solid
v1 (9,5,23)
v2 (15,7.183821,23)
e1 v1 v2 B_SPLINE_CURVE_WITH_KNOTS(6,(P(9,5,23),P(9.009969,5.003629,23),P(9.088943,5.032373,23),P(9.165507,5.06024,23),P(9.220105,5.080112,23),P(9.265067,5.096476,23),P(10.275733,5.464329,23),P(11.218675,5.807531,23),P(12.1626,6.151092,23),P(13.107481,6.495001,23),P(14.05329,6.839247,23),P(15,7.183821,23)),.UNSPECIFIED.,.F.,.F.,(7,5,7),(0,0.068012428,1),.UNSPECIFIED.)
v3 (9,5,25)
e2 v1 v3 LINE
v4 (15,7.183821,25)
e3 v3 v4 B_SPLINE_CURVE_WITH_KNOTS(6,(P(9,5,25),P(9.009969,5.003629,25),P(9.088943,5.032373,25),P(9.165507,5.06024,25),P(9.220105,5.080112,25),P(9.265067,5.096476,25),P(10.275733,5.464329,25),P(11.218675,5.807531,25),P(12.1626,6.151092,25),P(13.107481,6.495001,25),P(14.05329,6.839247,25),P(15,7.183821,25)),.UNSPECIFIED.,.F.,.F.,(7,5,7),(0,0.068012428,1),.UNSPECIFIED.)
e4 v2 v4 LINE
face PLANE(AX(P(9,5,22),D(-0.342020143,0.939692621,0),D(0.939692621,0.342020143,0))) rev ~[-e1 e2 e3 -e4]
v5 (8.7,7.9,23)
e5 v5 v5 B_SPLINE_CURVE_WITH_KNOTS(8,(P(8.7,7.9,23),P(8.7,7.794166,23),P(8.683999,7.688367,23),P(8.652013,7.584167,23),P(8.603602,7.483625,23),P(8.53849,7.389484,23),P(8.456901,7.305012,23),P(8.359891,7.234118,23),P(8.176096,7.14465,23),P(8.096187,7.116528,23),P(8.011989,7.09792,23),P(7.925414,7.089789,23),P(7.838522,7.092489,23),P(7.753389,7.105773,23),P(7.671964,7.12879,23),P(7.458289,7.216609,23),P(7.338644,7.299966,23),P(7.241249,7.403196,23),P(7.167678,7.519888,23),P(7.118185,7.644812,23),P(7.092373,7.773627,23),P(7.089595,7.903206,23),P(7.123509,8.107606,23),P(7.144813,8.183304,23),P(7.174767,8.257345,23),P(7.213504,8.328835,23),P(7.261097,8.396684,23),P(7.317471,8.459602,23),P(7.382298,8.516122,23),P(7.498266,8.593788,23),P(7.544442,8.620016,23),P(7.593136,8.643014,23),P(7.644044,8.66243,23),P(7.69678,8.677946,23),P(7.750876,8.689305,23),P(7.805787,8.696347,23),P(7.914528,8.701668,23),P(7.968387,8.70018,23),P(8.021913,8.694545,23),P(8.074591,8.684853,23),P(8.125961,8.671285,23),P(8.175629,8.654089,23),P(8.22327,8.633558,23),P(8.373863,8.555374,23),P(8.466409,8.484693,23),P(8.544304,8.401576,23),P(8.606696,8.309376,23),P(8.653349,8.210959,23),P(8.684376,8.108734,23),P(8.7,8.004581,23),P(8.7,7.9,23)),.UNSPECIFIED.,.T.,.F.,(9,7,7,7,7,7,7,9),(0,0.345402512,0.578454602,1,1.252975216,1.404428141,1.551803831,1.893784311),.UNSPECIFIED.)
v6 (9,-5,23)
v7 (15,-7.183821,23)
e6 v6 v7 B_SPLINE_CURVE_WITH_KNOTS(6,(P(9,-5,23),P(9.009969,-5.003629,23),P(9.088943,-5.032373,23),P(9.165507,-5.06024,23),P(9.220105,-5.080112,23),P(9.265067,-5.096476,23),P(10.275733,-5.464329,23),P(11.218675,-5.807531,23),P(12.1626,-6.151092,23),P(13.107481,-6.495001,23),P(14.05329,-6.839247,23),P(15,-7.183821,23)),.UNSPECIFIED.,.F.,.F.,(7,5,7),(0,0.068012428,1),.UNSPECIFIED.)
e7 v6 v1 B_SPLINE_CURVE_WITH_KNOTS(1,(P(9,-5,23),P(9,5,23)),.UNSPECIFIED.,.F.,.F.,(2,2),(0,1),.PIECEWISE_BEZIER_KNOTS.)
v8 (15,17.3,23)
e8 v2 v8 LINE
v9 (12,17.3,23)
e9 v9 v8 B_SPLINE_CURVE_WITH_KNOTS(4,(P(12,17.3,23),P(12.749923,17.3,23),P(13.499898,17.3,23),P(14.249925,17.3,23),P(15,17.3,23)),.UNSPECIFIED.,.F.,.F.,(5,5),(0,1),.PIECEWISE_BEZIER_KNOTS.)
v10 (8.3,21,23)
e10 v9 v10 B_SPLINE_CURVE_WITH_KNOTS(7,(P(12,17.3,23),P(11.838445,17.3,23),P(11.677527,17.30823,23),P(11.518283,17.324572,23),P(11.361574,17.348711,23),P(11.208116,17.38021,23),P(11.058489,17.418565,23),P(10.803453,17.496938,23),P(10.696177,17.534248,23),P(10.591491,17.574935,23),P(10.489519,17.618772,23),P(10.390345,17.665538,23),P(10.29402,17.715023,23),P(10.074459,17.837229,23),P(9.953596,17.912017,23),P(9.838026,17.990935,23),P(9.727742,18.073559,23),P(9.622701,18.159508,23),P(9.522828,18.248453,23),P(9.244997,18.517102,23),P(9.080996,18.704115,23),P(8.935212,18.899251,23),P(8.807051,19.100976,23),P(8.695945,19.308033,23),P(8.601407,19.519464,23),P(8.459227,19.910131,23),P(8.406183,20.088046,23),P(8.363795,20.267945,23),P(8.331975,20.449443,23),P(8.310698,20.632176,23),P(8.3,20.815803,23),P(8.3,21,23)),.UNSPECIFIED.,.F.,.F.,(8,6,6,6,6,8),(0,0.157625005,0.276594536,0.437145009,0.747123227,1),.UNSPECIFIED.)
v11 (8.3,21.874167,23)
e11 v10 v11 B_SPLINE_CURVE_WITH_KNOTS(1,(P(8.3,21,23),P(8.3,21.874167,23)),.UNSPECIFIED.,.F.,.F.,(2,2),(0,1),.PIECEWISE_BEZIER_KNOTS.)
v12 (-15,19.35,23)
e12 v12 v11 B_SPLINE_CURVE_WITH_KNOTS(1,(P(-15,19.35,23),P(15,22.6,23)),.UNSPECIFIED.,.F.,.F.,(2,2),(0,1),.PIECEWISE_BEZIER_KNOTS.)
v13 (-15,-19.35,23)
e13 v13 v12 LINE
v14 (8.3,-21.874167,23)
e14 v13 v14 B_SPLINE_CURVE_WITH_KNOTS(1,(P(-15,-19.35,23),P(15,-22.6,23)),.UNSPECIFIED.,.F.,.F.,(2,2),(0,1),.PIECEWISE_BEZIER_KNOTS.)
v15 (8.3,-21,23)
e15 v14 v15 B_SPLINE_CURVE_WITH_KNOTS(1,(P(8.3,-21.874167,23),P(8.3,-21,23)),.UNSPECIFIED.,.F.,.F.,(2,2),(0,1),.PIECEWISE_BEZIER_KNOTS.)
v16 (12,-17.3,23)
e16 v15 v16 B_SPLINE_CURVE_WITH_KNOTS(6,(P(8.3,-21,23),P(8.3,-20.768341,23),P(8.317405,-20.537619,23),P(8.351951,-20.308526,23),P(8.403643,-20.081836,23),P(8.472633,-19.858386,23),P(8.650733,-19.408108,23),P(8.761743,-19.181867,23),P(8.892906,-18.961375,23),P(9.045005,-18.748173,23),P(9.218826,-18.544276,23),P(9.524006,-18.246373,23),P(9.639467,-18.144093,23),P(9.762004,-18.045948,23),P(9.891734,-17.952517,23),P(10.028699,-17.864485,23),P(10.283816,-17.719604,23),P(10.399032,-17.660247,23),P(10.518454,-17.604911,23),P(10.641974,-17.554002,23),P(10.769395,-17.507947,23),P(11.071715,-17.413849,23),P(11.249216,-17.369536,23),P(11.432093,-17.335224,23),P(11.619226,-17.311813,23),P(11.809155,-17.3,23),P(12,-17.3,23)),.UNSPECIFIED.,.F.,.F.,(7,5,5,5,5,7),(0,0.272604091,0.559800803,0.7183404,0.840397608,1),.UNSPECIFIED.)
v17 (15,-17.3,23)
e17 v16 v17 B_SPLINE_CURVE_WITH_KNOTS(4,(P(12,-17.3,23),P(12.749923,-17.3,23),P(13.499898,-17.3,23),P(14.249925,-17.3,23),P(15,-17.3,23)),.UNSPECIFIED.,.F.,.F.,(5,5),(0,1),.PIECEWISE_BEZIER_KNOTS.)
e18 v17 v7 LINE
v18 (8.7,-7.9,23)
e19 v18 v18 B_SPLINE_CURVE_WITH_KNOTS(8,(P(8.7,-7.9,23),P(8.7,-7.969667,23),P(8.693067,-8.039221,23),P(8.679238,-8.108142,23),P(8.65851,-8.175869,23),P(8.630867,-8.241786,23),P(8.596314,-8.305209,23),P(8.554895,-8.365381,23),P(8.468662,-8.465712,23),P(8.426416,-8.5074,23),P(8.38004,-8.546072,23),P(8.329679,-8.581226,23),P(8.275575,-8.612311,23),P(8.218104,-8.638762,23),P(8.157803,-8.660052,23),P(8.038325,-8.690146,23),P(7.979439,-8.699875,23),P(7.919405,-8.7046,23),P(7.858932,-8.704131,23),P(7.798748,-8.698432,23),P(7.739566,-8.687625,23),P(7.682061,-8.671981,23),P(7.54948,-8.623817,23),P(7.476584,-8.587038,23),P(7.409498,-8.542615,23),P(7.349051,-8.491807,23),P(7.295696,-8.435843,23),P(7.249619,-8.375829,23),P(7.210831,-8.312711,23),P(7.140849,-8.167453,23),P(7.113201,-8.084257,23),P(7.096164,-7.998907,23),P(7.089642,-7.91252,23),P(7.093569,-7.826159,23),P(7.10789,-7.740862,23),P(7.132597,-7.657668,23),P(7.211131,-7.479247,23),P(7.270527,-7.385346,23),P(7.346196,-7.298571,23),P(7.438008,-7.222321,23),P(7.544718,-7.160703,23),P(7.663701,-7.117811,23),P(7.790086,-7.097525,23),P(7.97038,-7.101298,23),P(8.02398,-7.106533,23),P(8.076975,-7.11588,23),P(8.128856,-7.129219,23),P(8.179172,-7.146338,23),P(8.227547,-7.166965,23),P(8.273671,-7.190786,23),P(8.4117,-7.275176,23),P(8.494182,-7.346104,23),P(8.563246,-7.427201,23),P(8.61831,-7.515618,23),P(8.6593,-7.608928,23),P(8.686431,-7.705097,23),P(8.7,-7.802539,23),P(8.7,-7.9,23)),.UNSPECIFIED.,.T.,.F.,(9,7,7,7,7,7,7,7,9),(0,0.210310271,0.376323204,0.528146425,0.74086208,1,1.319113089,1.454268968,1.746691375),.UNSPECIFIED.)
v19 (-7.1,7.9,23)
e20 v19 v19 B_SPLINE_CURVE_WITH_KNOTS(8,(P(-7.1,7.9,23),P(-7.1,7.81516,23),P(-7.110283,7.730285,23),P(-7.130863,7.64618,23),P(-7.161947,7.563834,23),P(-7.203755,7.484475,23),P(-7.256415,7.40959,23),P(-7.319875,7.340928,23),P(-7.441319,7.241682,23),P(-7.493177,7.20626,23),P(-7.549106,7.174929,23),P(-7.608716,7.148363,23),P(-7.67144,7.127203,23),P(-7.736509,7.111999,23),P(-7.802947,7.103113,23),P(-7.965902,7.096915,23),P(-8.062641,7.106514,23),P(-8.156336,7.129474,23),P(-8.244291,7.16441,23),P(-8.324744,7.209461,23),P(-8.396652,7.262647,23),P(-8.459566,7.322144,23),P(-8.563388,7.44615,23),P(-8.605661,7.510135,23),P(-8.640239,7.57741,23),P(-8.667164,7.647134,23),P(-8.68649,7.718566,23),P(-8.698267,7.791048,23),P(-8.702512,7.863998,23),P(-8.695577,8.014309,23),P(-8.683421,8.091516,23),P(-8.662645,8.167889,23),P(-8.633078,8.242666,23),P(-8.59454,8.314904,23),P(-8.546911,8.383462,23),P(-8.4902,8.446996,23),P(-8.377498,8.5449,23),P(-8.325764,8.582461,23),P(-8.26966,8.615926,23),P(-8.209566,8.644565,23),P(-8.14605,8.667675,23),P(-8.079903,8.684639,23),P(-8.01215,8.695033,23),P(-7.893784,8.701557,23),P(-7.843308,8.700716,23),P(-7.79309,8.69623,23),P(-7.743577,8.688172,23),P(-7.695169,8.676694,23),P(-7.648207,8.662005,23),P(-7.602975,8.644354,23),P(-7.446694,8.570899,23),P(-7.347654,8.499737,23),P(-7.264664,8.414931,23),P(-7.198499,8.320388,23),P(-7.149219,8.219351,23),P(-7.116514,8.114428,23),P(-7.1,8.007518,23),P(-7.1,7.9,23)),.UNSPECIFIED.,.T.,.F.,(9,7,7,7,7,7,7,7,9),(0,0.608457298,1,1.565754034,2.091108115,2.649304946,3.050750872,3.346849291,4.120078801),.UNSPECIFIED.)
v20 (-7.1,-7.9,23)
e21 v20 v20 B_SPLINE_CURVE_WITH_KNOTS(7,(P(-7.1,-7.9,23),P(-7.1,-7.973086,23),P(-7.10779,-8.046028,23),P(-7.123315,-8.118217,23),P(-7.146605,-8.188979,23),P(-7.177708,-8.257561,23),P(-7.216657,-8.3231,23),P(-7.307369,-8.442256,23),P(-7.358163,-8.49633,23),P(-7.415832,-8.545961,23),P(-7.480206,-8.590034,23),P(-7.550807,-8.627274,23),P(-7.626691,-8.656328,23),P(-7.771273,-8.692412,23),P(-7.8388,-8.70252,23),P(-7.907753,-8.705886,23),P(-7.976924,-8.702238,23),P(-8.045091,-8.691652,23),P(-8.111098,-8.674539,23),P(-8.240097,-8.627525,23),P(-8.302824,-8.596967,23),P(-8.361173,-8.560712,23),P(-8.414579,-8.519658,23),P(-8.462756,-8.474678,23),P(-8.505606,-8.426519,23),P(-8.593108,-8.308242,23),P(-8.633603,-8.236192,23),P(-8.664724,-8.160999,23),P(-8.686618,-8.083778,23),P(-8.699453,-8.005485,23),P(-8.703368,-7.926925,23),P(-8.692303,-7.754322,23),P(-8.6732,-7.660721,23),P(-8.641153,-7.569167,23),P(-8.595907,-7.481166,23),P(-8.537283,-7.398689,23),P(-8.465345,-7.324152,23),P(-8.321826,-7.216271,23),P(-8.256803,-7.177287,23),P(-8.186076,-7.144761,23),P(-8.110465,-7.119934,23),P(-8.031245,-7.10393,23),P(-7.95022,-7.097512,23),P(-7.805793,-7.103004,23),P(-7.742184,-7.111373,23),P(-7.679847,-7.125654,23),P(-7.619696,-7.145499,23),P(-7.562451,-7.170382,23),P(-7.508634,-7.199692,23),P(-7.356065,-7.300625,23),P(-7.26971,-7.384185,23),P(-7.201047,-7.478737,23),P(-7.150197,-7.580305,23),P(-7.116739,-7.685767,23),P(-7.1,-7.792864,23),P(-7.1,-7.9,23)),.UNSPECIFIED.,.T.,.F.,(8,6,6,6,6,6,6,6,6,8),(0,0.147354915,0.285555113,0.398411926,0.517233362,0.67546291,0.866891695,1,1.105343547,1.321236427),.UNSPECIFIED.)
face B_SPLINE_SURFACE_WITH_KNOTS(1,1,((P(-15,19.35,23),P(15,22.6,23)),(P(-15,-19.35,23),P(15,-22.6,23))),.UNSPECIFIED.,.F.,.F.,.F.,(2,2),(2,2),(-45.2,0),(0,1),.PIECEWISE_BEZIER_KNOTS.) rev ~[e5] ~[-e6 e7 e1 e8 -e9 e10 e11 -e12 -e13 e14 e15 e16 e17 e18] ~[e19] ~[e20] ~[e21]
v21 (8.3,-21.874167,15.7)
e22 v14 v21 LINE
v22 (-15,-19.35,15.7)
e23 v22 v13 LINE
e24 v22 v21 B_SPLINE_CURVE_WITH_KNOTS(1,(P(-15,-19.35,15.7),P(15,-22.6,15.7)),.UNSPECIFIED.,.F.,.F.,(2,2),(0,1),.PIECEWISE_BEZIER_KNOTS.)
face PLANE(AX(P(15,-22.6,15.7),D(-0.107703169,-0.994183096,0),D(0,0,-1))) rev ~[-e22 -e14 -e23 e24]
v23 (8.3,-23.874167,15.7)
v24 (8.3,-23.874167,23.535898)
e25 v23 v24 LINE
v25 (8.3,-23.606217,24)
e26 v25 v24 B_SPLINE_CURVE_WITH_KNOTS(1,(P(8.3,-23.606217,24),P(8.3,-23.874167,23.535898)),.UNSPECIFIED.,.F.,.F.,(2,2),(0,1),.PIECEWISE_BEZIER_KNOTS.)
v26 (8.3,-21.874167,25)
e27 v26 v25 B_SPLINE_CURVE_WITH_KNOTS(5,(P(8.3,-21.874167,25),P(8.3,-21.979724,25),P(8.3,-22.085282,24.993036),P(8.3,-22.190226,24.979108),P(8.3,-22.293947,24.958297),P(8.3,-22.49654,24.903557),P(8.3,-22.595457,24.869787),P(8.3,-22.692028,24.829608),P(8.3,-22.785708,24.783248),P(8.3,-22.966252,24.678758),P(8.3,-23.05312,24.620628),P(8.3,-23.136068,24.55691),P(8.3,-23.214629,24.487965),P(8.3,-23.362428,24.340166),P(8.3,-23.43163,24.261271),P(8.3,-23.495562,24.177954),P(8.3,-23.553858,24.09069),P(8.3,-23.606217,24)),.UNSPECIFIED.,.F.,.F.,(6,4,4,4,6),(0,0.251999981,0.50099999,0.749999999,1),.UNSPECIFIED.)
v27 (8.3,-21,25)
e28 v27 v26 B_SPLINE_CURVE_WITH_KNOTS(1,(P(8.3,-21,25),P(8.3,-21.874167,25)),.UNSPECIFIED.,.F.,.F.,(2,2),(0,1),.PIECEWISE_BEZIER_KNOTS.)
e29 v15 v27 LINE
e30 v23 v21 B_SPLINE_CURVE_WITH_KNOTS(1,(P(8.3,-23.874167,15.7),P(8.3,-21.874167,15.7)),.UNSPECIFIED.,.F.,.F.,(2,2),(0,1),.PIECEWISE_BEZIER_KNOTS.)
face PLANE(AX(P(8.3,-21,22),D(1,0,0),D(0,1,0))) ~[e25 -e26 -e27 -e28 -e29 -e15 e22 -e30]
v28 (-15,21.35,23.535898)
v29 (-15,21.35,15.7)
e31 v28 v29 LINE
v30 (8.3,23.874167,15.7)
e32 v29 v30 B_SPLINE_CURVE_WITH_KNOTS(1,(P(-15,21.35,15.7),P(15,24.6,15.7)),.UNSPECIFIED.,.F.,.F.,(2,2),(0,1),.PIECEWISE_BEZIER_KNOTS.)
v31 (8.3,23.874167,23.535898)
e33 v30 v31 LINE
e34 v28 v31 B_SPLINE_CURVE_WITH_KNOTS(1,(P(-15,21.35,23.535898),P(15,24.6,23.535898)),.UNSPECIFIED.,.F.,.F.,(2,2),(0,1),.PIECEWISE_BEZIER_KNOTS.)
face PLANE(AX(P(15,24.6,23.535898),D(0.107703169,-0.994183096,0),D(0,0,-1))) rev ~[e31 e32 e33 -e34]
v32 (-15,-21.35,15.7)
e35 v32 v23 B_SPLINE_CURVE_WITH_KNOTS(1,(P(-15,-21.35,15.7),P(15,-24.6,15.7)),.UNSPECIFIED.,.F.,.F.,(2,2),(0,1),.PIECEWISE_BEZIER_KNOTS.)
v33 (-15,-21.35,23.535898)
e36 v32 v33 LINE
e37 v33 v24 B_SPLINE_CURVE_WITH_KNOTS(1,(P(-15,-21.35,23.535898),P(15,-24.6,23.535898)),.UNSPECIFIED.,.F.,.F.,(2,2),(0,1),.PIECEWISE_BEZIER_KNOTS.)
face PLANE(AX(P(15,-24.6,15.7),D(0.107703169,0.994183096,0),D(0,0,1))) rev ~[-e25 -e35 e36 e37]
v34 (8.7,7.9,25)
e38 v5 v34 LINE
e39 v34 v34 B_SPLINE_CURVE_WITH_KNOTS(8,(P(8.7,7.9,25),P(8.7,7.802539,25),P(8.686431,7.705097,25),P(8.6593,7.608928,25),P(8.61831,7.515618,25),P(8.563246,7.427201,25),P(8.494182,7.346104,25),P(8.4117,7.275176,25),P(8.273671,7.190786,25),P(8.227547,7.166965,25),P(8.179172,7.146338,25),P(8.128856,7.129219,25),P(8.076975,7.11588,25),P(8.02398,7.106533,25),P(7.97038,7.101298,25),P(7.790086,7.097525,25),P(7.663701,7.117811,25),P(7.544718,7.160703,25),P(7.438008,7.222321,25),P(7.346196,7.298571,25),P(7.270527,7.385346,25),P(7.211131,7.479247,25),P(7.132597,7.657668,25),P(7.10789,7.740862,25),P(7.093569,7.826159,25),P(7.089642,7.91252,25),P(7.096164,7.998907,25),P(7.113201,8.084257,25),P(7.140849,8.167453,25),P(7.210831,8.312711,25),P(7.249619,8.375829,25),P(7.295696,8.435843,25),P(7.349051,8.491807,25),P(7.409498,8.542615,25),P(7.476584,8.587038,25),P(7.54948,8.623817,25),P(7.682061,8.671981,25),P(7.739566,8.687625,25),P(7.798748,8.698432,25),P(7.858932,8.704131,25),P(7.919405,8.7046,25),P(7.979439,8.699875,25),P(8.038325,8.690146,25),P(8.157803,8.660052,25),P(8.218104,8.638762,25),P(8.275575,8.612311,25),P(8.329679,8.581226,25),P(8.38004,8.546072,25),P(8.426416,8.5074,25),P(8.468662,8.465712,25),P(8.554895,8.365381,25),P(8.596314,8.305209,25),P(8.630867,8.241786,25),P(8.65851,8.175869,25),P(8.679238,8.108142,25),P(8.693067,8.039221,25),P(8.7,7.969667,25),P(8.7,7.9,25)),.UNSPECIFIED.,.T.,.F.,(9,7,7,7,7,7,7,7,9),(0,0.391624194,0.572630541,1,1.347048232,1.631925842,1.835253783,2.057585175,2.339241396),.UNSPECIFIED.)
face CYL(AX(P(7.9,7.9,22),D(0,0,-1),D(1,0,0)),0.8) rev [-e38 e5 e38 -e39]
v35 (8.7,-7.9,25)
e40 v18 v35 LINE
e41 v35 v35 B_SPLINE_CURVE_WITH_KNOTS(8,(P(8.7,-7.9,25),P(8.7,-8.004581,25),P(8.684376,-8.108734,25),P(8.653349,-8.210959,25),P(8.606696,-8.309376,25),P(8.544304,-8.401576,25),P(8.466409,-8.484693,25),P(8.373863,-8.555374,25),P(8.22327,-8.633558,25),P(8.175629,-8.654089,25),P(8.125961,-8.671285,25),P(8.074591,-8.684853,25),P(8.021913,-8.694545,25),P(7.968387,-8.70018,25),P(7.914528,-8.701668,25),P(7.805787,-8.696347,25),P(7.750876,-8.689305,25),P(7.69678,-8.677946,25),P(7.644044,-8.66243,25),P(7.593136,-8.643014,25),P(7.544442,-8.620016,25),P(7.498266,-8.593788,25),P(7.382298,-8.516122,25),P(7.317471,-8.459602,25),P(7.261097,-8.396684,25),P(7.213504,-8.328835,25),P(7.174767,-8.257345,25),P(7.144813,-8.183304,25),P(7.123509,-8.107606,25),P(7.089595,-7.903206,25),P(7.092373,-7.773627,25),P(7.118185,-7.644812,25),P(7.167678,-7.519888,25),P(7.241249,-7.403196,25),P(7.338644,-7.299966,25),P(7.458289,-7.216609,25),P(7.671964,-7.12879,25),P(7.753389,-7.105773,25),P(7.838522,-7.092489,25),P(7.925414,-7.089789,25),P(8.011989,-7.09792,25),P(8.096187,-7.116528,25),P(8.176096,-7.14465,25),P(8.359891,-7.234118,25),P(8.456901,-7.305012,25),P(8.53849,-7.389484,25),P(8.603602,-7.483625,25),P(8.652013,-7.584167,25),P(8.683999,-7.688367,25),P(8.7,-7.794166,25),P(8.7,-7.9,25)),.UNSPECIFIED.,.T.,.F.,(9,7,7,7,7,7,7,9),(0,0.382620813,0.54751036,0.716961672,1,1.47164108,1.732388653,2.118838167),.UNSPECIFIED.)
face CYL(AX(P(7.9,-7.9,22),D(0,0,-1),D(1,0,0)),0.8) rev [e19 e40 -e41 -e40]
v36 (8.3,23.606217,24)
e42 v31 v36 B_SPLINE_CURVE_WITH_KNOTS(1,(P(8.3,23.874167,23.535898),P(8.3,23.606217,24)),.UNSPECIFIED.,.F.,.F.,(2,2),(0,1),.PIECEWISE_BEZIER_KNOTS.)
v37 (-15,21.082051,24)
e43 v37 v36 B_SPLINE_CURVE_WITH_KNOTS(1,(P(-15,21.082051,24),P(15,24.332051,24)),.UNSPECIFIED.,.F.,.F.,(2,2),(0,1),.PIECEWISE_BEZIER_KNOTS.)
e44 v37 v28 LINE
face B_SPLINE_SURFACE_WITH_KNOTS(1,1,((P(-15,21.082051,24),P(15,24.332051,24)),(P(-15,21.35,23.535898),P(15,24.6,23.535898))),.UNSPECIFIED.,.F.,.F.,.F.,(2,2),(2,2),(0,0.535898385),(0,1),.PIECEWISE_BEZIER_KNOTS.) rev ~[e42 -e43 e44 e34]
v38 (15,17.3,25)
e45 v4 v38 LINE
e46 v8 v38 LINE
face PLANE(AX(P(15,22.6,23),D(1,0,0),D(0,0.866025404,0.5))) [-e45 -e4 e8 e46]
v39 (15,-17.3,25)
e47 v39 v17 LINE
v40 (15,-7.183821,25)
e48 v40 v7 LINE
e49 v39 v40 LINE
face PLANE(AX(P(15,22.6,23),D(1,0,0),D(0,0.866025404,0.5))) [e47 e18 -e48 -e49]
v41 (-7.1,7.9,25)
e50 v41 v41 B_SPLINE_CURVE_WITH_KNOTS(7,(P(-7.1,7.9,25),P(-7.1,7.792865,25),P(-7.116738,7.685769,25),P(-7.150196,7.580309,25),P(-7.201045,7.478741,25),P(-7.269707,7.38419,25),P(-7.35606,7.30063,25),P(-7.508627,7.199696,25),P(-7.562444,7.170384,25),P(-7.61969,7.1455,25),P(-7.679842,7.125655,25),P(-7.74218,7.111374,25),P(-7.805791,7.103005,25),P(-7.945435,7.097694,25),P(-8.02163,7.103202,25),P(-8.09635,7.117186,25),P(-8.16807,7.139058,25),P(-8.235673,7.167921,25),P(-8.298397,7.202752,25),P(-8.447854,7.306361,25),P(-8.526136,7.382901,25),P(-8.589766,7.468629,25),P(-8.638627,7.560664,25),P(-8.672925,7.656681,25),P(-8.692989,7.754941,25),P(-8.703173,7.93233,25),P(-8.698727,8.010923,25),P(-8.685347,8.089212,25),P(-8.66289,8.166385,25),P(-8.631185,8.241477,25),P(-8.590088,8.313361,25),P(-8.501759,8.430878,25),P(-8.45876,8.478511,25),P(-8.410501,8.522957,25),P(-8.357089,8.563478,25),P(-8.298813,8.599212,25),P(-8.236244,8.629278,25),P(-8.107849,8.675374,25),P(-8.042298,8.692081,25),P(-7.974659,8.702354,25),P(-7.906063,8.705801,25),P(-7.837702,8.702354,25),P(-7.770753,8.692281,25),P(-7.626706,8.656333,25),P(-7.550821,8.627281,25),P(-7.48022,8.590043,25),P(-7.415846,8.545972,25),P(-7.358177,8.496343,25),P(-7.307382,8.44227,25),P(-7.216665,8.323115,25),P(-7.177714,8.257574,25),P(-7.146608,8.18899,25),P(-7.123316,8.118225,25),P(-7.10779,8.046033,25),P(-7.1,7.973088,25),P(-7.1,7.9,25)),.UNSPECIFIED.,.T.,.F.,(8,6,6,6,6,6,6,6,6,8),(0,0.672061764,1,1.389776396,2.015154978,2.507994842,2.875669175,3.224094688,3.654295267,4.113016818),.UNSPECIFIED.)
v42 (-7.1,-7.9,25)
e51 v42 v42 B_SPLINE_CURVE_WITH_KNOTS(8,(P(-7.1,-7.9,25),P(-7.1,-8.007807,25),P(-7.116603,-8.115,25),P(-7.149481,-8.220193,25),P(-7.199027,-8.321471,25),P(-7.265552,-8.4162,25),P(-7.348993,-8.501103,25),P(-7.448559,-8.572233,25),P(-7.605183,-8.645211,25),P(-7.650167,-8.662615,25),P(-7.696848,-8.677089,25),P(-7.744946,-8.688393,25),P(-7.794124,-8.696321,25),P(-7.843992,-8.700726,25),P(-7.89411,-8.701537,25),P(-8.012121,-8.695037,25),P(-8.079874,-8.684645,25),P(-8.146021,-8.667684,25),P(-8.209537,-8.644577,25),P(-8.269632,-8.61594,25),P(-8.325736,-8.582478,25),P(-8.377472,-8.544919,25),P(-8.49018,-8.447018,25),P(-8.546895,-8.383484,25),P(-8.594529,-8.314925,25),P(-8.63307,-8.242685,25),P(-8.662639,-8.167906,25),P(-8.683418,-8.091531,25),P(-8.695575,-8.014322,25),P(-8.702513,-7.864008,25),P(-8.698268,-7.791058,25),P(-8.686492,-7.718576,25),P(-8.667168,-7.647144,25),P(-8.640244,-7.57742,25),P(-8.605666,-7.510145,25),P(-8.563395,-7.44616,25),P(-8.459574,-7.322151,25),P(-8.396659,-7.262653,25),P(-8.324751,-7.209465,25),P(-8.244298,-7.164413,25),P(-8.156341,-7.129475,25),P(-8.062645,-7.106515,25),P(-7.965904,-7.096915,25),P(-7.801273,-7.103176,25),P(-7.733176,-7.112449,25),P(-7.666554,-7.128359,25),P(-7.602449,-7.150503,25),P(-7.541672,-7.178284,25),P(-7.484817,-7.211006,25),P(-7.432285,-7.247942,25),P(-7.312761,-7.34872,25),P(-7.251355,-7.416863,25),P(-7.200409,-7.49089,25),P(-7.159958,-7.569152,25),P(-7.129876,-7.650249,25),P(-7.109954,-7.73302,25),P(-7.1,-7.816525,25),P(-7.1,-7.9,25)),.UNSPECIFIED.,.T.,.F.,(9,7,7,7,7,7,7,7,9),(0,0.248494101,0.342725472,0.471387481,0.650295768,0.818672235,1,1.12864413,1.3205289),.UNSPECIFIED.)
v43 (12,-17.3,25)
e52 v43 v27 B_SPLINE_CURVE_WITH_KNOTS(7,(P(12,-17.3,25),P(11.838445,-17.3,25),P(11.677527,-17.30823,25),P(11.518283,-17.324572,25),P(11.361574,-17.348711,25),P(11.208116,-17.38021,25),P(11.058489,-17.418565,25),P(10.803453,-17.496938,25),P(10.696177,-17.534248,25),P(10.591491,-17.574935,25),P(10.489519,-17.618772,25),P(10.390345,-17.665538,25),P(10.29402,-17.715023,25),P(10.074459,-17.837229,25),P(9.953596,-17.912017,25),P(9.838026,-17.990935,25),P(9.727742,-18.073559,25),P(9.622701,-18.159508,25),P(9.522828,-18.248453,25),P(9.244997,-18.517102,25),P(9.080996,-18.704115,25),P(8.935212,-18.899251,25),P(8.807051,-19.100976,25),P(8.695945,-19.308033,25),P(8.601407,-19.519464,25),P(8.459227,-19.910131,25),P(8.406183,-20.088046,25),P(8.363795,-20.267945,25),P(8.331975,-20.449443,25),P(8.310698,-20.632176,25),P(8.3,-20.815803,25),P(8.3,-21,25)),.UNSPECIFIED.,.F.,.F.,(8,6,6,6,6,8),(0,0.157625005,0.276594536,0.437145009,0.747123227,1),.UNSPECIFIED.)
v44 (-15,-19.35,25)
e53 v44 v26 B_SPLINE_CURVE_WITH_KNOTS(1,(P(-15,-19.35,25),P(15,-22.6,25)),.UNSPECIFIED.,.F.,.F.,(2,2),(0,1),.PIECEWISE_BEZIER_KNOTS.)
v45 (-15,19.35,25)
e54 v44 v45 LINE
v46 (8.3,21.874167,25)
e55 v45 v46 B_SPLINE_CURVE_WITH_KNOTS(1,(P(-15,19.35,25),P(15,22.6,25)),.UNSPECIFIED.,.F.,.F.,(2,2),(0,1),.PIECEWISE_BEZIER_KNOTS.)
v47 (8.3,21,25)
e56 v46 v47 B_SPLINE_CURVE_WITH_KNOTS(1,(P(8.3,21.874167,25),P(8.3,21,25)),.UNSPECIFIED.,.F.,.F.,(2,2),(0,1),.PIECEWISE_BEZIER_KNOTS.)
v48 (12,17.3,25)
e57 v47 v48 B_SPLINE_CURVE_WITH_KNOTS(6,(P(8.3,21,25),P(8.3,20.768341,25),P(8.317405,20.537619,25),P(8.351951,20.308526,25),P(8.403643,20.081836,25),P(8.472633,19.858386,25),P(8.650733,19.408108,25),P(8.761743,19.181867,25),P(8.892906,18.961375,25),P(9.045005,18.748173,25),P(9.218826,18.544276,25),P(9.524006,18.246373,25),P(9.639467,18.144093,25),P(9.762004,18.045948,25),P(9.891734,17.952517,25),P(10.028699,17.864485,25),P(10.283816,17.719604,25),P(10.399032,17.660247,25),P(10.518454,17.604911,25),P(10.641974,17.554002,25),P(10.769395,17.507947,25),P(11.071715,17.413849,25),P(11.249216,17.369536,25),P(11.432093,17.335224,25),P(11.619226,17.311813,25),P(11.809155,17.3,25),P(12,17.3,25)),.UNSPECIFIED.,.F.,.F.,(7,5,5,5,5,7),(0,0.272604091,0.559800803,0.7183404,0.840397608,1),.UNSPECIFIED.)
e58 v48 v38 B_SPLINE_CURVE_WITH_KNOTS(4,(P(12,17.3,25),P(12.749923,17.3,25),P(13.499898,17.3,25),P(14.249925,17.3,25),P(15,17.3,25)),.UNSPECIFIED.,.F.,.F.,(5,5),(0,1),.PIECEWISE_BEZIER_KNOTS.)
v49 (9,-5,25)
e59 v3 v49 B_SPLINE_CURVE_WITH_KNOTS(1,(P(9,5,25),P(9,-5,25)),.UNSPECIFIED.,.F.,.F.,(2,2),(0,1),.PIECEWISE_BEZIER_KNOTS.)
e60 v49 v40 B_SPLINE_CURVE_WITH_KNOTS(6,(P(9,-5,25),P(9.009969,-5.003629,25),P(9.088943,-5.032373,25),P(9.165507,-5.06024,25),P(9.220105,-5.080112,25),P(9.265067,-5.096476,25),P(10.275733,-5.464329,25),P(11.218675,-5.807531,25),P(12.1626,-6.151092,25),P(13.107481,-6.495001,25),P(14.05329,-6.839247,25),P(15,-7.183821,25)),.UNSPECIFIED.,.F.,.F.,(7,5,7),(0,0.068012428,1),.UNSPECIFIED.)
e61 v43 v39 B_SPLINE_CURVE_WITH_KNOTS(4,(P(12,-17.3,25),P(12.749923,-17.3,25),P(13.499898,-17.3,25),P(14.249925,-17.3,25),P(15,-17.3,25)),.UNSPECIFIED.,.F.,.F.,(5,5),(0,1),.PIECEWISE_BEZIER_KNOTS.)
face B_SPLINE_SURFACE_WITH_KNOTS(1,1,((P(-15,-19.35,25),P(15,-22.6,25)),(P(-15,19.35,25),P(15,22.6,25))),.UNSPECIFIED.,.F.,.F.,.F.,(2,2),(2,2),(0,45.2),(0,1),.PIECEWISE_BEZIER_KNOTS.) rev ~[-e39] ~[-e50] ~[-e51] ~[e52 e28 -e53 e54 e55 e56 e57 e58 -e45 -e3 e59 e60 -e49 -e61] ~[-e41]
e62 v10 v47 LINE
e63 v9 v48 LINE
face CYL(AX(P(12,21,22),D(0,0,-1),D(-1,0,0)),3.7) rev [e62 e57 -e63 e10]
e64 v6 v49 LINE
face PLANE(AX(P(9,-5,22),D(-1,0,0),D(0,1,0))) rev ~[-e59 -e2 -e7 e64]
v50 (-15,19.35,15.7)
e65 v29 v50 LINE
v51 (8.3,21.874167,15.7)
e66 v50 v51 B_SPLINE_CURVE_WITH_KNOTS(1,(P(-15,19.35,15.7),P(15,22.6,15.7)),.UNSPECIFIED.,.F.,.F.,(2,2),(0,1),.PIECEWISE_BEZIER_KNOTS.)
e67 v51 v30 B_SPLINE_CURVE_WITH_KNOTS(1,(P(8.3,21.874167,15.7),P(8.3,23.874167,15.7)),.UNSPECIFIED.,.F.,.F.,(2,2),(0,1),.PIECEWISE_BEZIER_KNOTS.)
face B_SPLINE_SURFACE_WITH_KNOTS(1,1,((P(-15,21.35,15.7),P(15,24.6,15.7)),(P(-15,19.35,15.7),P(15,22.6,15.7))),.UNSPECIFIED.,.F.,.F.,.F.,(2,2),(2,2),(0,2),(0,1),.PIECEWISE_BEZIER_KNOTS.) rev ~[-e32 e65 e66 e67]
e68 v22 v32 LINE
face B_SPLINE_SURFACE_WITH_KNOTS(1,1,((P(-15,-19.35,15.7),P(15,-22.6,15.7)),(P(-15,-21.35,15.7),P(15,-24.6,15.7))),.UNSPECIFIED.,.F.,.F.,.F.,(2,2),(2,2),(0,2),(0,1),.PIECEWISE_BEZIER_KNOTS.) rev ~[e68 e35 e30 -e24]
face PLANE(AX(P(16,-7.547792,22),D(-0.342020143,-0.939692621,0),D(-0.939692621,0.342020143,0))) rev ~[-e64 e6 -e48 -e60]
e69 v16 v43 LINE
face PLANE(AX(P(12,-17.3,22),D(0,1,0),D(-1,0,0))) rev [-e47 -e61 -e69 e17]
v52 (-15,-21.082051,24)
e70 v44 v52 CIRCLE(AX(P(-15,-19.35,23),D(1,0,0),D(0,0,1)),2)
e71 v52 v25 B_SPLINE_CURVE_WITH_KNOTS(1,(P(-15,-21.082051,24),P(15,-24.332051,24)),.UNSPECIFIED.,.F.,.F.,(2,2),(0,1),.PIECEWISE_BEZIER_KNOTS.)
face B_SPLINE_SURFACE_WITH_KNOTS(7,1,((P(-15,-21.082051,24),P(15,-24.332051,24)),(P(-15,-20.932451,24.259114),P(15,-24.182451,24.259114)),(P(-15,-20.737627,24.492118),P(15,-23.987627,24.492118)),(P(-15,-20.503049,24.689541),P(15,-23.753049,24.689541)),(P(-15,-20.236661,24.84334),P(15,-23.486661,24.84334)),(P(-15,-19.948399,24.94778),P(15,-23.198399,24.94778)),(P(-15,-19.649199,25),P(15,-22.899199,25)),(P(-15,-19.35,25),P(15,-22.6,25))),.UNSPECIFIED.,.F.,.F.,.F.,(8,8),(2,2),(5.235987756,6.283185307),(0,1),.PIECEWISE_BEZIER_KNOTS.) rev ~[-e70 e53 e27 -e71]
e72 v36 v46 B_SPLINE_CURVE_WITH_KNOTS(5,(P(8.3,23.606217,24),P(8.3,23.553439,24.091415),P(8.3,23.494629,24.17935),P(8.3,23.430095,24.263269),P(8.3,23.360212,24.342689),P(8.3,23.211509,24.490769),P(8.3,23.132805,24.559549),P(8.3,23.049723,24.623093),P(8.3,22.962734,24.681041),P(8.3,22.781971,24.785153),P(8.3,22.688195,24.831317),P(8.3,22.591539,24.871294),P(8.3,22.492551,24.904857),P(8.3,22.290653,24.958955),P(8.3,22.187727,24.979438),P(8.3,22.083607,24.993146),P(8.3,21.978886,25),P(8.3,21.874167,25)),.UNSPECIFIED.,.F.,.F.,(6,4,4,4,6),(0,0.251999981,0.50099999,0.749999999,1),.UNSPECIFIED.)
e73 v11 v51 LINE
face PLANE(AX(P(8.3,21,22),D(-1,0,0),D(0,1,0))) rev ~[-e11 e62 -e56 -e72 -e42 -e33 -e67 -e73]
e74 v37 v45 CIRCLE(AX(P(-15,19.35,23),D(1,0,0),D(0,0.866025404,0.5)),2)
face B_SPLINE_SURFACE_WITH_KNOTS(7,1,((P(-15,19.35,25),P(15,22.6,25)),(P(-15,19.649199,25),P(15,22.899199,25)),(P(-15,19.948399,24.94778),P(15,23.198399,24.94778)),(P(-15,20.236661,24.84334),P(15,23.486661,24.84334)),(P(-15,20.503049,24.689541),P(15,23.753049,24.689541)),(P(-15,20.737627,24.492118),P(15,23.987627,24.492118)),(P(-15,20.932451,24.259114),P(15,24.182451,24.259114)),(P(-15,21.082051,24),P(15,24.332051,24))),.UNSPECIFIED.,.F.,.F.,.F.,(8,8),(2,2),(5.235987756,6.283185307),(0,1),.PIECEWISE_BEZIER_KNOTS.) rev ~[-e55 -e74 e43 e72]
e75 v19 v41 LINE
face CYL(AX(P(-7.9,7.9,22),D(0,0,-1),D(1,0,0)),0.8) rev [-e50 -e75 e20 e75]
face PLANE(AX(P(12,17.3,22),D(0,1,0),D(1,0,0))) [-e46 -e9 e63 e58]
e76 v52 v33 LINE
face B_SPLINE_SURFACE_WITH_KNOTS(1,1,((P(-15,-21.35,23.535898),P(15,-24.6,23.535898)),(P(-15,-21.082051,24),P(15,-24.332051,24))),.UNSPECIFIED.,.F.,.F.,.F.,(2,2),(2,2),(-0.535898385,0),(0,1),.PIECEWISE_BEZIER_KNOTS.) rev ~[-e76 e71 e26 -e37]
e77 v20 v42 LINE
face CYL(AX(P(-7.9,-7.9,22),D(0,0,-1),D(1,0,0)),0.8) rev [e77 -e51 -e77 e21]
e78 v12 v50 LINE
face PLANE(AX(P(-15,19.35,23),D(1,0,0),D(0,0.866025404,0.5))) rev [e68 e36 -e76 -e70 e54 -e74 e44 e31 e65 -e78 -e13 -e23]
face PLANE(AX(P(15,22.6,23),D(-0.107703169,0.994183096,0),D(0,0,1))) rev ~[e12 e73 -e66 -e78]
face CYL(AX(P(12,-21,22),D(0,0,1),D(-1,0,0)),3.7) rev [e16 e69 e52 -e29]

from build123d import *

# Parameters (mm, degrees)
SKETCH047_R          = 0.8
POCKET027_DEPTH      = 6.3010001
POCKET027_DEPTH_BACK = 3.0010001
POCKET028_DEPTH      = 6.3010001
POCKET028_DEPTH_BACK = 3.0010001
POCKET030_DEPTH      = 123.0422530554
POCKET030_DEPTH_BACK = 119.7422530554


with BuildPart() as part:
    # Sketch046 → AdditiveLoft section 0
    with BuildSketch(Plane.YZ.offset(-15)):
        with BuildLine():
            Line((-19.35, 3), (19.35, 3))
            ThreePointArc((21.0820508076, 2), (20.35, 2.7320508076), (19.35, 3))
            Line((21.0820508076, 2), (21.35, 1.5358983849))
            Line((21.35, 1.5358983849), (21.35, -6.3))
            Line((21.35, -6.3), (19.35, -6.3))
            Line((19.35, 1), (19.35, -6.3))
            Line((-19.35, 1), (19.35, 1))
            Line((-19.35, -6.3), (-19.35, 1))
            Line((-19.35, -6.3), (-21.35, -6.3))
            Line((-21.35, -6.3), (-21.35, 1.5358983849))
            Line((-21.0820508076, 2), (-21.35, 1.5358983849))
            ThreePointArc((-19.35, 3), (-20.35, 2.7320508076), (-21.0820508076, 2))
        make_face()
    # Sketch058 → AdditiveLoft section 1
    with BuildSketch(Plane.YZ.offset(15)):
        with BuildLine():
            Line((-22.6, 3), (22.6, 3))
            ThreePointArc((24.3320508076, 2), (23.6, 2.7320508076), (22.6, 3))
            Line((24.3320508076, 2), (24.6, 1.5358983849))
            Line((24.6, 1.5358983849), (24.6, -6.3))
            Line((24.6, -6.3), (22.6, -6.3))
            Line((22.6, 1), (22.6, -6.3))
            Line((-22.6, 1), (22.6, 1))
            Line((-22.6, -6.3), (-22.6, 1))
            Line((-22.6, -6.3), (-24.6, -6.3))
            Line((-24.6, -6.3), (-24.6, 1.5358983849))
            Line((-24.3320508076, 2), (-24.6, 1.5358983849))
            ThreePointArc((-22.6, 3), (-23.6, 2.7320508076), (-24.3320508076, 2))
        make_face()
    loft()

    # Sketch047 → Pocket027 (cut, two sides)
    with BuildSketch(Plane.XY) as pocket027_sk:
        with Locations((7.9, 7.9)):
            Circle(SKETCH047_R)
        with Locations((-7.9, 7.9)):
            Circle(SKETCH047_R)
        with Locations((-7.9, -7.9)):
            Circle(SKETCH047_R)
        with Locations((7.9, -7.9)):
            Circle(SKETCH047_R)
    extrude(amount=-POCKET027_DEPTH, mode=Mode.SUBTRACT)
    extrude(pocket027_sk.sketch, amount=POCKET027_DEPTH_BACK, mode=Mode.SUBTRACT)

    # Sketch048 → Pocket028 (cut, two sides)
    with BuildSketch(Plane.XY) as pocket028_sk:
        Polygon((9, 5), (16, 7.5477916399), (16, -7.5477916399), (9, -5), align=None)
    extrude(amount=-POCKET028_DEPTH, mode=Mode.SUBTRACT)
    extrude(pocket028_sk.sketch, amount=POCKET028_DEPTH_BACK, mode=Mode.SUBTRACT)

    # Sketch050 → Pocket030 (cut, two sides)
    with BuildSketch(Plane.XY) as pocket030_sk:
        with BuildLine():
            Line((8.3, 30), (18.3, 30))
            Line((18.3, 30), (18.3, 17.3))
            Line((12, 17.3), (18.3, 17.3))
            ThreePointArc((8.3, 21), (9.3837049096, 18.3837049096), (12, 17.3))
            Line((8.3, 21), (8.3, 30))
        make_face()
    pocket030 = extrude(amount=-POCKET030_DEPTH, mode=Mode.SUBTRACT) + extrude(pocket030_sk.sketch, amount=POCKET030_DEPTH_BACK, mode=Mode.SUBTRACT)

    # Mirrored011: Pocket030 across XZ
    add(pocket030.mirror(Plane.XZ), mode=Mode.SUBTRACT)


with BuildPart() as part_1:
    # Body011 placement: moved
    add(part.part.moved(Location((0, 0, 22))))


solid = part_1.part
